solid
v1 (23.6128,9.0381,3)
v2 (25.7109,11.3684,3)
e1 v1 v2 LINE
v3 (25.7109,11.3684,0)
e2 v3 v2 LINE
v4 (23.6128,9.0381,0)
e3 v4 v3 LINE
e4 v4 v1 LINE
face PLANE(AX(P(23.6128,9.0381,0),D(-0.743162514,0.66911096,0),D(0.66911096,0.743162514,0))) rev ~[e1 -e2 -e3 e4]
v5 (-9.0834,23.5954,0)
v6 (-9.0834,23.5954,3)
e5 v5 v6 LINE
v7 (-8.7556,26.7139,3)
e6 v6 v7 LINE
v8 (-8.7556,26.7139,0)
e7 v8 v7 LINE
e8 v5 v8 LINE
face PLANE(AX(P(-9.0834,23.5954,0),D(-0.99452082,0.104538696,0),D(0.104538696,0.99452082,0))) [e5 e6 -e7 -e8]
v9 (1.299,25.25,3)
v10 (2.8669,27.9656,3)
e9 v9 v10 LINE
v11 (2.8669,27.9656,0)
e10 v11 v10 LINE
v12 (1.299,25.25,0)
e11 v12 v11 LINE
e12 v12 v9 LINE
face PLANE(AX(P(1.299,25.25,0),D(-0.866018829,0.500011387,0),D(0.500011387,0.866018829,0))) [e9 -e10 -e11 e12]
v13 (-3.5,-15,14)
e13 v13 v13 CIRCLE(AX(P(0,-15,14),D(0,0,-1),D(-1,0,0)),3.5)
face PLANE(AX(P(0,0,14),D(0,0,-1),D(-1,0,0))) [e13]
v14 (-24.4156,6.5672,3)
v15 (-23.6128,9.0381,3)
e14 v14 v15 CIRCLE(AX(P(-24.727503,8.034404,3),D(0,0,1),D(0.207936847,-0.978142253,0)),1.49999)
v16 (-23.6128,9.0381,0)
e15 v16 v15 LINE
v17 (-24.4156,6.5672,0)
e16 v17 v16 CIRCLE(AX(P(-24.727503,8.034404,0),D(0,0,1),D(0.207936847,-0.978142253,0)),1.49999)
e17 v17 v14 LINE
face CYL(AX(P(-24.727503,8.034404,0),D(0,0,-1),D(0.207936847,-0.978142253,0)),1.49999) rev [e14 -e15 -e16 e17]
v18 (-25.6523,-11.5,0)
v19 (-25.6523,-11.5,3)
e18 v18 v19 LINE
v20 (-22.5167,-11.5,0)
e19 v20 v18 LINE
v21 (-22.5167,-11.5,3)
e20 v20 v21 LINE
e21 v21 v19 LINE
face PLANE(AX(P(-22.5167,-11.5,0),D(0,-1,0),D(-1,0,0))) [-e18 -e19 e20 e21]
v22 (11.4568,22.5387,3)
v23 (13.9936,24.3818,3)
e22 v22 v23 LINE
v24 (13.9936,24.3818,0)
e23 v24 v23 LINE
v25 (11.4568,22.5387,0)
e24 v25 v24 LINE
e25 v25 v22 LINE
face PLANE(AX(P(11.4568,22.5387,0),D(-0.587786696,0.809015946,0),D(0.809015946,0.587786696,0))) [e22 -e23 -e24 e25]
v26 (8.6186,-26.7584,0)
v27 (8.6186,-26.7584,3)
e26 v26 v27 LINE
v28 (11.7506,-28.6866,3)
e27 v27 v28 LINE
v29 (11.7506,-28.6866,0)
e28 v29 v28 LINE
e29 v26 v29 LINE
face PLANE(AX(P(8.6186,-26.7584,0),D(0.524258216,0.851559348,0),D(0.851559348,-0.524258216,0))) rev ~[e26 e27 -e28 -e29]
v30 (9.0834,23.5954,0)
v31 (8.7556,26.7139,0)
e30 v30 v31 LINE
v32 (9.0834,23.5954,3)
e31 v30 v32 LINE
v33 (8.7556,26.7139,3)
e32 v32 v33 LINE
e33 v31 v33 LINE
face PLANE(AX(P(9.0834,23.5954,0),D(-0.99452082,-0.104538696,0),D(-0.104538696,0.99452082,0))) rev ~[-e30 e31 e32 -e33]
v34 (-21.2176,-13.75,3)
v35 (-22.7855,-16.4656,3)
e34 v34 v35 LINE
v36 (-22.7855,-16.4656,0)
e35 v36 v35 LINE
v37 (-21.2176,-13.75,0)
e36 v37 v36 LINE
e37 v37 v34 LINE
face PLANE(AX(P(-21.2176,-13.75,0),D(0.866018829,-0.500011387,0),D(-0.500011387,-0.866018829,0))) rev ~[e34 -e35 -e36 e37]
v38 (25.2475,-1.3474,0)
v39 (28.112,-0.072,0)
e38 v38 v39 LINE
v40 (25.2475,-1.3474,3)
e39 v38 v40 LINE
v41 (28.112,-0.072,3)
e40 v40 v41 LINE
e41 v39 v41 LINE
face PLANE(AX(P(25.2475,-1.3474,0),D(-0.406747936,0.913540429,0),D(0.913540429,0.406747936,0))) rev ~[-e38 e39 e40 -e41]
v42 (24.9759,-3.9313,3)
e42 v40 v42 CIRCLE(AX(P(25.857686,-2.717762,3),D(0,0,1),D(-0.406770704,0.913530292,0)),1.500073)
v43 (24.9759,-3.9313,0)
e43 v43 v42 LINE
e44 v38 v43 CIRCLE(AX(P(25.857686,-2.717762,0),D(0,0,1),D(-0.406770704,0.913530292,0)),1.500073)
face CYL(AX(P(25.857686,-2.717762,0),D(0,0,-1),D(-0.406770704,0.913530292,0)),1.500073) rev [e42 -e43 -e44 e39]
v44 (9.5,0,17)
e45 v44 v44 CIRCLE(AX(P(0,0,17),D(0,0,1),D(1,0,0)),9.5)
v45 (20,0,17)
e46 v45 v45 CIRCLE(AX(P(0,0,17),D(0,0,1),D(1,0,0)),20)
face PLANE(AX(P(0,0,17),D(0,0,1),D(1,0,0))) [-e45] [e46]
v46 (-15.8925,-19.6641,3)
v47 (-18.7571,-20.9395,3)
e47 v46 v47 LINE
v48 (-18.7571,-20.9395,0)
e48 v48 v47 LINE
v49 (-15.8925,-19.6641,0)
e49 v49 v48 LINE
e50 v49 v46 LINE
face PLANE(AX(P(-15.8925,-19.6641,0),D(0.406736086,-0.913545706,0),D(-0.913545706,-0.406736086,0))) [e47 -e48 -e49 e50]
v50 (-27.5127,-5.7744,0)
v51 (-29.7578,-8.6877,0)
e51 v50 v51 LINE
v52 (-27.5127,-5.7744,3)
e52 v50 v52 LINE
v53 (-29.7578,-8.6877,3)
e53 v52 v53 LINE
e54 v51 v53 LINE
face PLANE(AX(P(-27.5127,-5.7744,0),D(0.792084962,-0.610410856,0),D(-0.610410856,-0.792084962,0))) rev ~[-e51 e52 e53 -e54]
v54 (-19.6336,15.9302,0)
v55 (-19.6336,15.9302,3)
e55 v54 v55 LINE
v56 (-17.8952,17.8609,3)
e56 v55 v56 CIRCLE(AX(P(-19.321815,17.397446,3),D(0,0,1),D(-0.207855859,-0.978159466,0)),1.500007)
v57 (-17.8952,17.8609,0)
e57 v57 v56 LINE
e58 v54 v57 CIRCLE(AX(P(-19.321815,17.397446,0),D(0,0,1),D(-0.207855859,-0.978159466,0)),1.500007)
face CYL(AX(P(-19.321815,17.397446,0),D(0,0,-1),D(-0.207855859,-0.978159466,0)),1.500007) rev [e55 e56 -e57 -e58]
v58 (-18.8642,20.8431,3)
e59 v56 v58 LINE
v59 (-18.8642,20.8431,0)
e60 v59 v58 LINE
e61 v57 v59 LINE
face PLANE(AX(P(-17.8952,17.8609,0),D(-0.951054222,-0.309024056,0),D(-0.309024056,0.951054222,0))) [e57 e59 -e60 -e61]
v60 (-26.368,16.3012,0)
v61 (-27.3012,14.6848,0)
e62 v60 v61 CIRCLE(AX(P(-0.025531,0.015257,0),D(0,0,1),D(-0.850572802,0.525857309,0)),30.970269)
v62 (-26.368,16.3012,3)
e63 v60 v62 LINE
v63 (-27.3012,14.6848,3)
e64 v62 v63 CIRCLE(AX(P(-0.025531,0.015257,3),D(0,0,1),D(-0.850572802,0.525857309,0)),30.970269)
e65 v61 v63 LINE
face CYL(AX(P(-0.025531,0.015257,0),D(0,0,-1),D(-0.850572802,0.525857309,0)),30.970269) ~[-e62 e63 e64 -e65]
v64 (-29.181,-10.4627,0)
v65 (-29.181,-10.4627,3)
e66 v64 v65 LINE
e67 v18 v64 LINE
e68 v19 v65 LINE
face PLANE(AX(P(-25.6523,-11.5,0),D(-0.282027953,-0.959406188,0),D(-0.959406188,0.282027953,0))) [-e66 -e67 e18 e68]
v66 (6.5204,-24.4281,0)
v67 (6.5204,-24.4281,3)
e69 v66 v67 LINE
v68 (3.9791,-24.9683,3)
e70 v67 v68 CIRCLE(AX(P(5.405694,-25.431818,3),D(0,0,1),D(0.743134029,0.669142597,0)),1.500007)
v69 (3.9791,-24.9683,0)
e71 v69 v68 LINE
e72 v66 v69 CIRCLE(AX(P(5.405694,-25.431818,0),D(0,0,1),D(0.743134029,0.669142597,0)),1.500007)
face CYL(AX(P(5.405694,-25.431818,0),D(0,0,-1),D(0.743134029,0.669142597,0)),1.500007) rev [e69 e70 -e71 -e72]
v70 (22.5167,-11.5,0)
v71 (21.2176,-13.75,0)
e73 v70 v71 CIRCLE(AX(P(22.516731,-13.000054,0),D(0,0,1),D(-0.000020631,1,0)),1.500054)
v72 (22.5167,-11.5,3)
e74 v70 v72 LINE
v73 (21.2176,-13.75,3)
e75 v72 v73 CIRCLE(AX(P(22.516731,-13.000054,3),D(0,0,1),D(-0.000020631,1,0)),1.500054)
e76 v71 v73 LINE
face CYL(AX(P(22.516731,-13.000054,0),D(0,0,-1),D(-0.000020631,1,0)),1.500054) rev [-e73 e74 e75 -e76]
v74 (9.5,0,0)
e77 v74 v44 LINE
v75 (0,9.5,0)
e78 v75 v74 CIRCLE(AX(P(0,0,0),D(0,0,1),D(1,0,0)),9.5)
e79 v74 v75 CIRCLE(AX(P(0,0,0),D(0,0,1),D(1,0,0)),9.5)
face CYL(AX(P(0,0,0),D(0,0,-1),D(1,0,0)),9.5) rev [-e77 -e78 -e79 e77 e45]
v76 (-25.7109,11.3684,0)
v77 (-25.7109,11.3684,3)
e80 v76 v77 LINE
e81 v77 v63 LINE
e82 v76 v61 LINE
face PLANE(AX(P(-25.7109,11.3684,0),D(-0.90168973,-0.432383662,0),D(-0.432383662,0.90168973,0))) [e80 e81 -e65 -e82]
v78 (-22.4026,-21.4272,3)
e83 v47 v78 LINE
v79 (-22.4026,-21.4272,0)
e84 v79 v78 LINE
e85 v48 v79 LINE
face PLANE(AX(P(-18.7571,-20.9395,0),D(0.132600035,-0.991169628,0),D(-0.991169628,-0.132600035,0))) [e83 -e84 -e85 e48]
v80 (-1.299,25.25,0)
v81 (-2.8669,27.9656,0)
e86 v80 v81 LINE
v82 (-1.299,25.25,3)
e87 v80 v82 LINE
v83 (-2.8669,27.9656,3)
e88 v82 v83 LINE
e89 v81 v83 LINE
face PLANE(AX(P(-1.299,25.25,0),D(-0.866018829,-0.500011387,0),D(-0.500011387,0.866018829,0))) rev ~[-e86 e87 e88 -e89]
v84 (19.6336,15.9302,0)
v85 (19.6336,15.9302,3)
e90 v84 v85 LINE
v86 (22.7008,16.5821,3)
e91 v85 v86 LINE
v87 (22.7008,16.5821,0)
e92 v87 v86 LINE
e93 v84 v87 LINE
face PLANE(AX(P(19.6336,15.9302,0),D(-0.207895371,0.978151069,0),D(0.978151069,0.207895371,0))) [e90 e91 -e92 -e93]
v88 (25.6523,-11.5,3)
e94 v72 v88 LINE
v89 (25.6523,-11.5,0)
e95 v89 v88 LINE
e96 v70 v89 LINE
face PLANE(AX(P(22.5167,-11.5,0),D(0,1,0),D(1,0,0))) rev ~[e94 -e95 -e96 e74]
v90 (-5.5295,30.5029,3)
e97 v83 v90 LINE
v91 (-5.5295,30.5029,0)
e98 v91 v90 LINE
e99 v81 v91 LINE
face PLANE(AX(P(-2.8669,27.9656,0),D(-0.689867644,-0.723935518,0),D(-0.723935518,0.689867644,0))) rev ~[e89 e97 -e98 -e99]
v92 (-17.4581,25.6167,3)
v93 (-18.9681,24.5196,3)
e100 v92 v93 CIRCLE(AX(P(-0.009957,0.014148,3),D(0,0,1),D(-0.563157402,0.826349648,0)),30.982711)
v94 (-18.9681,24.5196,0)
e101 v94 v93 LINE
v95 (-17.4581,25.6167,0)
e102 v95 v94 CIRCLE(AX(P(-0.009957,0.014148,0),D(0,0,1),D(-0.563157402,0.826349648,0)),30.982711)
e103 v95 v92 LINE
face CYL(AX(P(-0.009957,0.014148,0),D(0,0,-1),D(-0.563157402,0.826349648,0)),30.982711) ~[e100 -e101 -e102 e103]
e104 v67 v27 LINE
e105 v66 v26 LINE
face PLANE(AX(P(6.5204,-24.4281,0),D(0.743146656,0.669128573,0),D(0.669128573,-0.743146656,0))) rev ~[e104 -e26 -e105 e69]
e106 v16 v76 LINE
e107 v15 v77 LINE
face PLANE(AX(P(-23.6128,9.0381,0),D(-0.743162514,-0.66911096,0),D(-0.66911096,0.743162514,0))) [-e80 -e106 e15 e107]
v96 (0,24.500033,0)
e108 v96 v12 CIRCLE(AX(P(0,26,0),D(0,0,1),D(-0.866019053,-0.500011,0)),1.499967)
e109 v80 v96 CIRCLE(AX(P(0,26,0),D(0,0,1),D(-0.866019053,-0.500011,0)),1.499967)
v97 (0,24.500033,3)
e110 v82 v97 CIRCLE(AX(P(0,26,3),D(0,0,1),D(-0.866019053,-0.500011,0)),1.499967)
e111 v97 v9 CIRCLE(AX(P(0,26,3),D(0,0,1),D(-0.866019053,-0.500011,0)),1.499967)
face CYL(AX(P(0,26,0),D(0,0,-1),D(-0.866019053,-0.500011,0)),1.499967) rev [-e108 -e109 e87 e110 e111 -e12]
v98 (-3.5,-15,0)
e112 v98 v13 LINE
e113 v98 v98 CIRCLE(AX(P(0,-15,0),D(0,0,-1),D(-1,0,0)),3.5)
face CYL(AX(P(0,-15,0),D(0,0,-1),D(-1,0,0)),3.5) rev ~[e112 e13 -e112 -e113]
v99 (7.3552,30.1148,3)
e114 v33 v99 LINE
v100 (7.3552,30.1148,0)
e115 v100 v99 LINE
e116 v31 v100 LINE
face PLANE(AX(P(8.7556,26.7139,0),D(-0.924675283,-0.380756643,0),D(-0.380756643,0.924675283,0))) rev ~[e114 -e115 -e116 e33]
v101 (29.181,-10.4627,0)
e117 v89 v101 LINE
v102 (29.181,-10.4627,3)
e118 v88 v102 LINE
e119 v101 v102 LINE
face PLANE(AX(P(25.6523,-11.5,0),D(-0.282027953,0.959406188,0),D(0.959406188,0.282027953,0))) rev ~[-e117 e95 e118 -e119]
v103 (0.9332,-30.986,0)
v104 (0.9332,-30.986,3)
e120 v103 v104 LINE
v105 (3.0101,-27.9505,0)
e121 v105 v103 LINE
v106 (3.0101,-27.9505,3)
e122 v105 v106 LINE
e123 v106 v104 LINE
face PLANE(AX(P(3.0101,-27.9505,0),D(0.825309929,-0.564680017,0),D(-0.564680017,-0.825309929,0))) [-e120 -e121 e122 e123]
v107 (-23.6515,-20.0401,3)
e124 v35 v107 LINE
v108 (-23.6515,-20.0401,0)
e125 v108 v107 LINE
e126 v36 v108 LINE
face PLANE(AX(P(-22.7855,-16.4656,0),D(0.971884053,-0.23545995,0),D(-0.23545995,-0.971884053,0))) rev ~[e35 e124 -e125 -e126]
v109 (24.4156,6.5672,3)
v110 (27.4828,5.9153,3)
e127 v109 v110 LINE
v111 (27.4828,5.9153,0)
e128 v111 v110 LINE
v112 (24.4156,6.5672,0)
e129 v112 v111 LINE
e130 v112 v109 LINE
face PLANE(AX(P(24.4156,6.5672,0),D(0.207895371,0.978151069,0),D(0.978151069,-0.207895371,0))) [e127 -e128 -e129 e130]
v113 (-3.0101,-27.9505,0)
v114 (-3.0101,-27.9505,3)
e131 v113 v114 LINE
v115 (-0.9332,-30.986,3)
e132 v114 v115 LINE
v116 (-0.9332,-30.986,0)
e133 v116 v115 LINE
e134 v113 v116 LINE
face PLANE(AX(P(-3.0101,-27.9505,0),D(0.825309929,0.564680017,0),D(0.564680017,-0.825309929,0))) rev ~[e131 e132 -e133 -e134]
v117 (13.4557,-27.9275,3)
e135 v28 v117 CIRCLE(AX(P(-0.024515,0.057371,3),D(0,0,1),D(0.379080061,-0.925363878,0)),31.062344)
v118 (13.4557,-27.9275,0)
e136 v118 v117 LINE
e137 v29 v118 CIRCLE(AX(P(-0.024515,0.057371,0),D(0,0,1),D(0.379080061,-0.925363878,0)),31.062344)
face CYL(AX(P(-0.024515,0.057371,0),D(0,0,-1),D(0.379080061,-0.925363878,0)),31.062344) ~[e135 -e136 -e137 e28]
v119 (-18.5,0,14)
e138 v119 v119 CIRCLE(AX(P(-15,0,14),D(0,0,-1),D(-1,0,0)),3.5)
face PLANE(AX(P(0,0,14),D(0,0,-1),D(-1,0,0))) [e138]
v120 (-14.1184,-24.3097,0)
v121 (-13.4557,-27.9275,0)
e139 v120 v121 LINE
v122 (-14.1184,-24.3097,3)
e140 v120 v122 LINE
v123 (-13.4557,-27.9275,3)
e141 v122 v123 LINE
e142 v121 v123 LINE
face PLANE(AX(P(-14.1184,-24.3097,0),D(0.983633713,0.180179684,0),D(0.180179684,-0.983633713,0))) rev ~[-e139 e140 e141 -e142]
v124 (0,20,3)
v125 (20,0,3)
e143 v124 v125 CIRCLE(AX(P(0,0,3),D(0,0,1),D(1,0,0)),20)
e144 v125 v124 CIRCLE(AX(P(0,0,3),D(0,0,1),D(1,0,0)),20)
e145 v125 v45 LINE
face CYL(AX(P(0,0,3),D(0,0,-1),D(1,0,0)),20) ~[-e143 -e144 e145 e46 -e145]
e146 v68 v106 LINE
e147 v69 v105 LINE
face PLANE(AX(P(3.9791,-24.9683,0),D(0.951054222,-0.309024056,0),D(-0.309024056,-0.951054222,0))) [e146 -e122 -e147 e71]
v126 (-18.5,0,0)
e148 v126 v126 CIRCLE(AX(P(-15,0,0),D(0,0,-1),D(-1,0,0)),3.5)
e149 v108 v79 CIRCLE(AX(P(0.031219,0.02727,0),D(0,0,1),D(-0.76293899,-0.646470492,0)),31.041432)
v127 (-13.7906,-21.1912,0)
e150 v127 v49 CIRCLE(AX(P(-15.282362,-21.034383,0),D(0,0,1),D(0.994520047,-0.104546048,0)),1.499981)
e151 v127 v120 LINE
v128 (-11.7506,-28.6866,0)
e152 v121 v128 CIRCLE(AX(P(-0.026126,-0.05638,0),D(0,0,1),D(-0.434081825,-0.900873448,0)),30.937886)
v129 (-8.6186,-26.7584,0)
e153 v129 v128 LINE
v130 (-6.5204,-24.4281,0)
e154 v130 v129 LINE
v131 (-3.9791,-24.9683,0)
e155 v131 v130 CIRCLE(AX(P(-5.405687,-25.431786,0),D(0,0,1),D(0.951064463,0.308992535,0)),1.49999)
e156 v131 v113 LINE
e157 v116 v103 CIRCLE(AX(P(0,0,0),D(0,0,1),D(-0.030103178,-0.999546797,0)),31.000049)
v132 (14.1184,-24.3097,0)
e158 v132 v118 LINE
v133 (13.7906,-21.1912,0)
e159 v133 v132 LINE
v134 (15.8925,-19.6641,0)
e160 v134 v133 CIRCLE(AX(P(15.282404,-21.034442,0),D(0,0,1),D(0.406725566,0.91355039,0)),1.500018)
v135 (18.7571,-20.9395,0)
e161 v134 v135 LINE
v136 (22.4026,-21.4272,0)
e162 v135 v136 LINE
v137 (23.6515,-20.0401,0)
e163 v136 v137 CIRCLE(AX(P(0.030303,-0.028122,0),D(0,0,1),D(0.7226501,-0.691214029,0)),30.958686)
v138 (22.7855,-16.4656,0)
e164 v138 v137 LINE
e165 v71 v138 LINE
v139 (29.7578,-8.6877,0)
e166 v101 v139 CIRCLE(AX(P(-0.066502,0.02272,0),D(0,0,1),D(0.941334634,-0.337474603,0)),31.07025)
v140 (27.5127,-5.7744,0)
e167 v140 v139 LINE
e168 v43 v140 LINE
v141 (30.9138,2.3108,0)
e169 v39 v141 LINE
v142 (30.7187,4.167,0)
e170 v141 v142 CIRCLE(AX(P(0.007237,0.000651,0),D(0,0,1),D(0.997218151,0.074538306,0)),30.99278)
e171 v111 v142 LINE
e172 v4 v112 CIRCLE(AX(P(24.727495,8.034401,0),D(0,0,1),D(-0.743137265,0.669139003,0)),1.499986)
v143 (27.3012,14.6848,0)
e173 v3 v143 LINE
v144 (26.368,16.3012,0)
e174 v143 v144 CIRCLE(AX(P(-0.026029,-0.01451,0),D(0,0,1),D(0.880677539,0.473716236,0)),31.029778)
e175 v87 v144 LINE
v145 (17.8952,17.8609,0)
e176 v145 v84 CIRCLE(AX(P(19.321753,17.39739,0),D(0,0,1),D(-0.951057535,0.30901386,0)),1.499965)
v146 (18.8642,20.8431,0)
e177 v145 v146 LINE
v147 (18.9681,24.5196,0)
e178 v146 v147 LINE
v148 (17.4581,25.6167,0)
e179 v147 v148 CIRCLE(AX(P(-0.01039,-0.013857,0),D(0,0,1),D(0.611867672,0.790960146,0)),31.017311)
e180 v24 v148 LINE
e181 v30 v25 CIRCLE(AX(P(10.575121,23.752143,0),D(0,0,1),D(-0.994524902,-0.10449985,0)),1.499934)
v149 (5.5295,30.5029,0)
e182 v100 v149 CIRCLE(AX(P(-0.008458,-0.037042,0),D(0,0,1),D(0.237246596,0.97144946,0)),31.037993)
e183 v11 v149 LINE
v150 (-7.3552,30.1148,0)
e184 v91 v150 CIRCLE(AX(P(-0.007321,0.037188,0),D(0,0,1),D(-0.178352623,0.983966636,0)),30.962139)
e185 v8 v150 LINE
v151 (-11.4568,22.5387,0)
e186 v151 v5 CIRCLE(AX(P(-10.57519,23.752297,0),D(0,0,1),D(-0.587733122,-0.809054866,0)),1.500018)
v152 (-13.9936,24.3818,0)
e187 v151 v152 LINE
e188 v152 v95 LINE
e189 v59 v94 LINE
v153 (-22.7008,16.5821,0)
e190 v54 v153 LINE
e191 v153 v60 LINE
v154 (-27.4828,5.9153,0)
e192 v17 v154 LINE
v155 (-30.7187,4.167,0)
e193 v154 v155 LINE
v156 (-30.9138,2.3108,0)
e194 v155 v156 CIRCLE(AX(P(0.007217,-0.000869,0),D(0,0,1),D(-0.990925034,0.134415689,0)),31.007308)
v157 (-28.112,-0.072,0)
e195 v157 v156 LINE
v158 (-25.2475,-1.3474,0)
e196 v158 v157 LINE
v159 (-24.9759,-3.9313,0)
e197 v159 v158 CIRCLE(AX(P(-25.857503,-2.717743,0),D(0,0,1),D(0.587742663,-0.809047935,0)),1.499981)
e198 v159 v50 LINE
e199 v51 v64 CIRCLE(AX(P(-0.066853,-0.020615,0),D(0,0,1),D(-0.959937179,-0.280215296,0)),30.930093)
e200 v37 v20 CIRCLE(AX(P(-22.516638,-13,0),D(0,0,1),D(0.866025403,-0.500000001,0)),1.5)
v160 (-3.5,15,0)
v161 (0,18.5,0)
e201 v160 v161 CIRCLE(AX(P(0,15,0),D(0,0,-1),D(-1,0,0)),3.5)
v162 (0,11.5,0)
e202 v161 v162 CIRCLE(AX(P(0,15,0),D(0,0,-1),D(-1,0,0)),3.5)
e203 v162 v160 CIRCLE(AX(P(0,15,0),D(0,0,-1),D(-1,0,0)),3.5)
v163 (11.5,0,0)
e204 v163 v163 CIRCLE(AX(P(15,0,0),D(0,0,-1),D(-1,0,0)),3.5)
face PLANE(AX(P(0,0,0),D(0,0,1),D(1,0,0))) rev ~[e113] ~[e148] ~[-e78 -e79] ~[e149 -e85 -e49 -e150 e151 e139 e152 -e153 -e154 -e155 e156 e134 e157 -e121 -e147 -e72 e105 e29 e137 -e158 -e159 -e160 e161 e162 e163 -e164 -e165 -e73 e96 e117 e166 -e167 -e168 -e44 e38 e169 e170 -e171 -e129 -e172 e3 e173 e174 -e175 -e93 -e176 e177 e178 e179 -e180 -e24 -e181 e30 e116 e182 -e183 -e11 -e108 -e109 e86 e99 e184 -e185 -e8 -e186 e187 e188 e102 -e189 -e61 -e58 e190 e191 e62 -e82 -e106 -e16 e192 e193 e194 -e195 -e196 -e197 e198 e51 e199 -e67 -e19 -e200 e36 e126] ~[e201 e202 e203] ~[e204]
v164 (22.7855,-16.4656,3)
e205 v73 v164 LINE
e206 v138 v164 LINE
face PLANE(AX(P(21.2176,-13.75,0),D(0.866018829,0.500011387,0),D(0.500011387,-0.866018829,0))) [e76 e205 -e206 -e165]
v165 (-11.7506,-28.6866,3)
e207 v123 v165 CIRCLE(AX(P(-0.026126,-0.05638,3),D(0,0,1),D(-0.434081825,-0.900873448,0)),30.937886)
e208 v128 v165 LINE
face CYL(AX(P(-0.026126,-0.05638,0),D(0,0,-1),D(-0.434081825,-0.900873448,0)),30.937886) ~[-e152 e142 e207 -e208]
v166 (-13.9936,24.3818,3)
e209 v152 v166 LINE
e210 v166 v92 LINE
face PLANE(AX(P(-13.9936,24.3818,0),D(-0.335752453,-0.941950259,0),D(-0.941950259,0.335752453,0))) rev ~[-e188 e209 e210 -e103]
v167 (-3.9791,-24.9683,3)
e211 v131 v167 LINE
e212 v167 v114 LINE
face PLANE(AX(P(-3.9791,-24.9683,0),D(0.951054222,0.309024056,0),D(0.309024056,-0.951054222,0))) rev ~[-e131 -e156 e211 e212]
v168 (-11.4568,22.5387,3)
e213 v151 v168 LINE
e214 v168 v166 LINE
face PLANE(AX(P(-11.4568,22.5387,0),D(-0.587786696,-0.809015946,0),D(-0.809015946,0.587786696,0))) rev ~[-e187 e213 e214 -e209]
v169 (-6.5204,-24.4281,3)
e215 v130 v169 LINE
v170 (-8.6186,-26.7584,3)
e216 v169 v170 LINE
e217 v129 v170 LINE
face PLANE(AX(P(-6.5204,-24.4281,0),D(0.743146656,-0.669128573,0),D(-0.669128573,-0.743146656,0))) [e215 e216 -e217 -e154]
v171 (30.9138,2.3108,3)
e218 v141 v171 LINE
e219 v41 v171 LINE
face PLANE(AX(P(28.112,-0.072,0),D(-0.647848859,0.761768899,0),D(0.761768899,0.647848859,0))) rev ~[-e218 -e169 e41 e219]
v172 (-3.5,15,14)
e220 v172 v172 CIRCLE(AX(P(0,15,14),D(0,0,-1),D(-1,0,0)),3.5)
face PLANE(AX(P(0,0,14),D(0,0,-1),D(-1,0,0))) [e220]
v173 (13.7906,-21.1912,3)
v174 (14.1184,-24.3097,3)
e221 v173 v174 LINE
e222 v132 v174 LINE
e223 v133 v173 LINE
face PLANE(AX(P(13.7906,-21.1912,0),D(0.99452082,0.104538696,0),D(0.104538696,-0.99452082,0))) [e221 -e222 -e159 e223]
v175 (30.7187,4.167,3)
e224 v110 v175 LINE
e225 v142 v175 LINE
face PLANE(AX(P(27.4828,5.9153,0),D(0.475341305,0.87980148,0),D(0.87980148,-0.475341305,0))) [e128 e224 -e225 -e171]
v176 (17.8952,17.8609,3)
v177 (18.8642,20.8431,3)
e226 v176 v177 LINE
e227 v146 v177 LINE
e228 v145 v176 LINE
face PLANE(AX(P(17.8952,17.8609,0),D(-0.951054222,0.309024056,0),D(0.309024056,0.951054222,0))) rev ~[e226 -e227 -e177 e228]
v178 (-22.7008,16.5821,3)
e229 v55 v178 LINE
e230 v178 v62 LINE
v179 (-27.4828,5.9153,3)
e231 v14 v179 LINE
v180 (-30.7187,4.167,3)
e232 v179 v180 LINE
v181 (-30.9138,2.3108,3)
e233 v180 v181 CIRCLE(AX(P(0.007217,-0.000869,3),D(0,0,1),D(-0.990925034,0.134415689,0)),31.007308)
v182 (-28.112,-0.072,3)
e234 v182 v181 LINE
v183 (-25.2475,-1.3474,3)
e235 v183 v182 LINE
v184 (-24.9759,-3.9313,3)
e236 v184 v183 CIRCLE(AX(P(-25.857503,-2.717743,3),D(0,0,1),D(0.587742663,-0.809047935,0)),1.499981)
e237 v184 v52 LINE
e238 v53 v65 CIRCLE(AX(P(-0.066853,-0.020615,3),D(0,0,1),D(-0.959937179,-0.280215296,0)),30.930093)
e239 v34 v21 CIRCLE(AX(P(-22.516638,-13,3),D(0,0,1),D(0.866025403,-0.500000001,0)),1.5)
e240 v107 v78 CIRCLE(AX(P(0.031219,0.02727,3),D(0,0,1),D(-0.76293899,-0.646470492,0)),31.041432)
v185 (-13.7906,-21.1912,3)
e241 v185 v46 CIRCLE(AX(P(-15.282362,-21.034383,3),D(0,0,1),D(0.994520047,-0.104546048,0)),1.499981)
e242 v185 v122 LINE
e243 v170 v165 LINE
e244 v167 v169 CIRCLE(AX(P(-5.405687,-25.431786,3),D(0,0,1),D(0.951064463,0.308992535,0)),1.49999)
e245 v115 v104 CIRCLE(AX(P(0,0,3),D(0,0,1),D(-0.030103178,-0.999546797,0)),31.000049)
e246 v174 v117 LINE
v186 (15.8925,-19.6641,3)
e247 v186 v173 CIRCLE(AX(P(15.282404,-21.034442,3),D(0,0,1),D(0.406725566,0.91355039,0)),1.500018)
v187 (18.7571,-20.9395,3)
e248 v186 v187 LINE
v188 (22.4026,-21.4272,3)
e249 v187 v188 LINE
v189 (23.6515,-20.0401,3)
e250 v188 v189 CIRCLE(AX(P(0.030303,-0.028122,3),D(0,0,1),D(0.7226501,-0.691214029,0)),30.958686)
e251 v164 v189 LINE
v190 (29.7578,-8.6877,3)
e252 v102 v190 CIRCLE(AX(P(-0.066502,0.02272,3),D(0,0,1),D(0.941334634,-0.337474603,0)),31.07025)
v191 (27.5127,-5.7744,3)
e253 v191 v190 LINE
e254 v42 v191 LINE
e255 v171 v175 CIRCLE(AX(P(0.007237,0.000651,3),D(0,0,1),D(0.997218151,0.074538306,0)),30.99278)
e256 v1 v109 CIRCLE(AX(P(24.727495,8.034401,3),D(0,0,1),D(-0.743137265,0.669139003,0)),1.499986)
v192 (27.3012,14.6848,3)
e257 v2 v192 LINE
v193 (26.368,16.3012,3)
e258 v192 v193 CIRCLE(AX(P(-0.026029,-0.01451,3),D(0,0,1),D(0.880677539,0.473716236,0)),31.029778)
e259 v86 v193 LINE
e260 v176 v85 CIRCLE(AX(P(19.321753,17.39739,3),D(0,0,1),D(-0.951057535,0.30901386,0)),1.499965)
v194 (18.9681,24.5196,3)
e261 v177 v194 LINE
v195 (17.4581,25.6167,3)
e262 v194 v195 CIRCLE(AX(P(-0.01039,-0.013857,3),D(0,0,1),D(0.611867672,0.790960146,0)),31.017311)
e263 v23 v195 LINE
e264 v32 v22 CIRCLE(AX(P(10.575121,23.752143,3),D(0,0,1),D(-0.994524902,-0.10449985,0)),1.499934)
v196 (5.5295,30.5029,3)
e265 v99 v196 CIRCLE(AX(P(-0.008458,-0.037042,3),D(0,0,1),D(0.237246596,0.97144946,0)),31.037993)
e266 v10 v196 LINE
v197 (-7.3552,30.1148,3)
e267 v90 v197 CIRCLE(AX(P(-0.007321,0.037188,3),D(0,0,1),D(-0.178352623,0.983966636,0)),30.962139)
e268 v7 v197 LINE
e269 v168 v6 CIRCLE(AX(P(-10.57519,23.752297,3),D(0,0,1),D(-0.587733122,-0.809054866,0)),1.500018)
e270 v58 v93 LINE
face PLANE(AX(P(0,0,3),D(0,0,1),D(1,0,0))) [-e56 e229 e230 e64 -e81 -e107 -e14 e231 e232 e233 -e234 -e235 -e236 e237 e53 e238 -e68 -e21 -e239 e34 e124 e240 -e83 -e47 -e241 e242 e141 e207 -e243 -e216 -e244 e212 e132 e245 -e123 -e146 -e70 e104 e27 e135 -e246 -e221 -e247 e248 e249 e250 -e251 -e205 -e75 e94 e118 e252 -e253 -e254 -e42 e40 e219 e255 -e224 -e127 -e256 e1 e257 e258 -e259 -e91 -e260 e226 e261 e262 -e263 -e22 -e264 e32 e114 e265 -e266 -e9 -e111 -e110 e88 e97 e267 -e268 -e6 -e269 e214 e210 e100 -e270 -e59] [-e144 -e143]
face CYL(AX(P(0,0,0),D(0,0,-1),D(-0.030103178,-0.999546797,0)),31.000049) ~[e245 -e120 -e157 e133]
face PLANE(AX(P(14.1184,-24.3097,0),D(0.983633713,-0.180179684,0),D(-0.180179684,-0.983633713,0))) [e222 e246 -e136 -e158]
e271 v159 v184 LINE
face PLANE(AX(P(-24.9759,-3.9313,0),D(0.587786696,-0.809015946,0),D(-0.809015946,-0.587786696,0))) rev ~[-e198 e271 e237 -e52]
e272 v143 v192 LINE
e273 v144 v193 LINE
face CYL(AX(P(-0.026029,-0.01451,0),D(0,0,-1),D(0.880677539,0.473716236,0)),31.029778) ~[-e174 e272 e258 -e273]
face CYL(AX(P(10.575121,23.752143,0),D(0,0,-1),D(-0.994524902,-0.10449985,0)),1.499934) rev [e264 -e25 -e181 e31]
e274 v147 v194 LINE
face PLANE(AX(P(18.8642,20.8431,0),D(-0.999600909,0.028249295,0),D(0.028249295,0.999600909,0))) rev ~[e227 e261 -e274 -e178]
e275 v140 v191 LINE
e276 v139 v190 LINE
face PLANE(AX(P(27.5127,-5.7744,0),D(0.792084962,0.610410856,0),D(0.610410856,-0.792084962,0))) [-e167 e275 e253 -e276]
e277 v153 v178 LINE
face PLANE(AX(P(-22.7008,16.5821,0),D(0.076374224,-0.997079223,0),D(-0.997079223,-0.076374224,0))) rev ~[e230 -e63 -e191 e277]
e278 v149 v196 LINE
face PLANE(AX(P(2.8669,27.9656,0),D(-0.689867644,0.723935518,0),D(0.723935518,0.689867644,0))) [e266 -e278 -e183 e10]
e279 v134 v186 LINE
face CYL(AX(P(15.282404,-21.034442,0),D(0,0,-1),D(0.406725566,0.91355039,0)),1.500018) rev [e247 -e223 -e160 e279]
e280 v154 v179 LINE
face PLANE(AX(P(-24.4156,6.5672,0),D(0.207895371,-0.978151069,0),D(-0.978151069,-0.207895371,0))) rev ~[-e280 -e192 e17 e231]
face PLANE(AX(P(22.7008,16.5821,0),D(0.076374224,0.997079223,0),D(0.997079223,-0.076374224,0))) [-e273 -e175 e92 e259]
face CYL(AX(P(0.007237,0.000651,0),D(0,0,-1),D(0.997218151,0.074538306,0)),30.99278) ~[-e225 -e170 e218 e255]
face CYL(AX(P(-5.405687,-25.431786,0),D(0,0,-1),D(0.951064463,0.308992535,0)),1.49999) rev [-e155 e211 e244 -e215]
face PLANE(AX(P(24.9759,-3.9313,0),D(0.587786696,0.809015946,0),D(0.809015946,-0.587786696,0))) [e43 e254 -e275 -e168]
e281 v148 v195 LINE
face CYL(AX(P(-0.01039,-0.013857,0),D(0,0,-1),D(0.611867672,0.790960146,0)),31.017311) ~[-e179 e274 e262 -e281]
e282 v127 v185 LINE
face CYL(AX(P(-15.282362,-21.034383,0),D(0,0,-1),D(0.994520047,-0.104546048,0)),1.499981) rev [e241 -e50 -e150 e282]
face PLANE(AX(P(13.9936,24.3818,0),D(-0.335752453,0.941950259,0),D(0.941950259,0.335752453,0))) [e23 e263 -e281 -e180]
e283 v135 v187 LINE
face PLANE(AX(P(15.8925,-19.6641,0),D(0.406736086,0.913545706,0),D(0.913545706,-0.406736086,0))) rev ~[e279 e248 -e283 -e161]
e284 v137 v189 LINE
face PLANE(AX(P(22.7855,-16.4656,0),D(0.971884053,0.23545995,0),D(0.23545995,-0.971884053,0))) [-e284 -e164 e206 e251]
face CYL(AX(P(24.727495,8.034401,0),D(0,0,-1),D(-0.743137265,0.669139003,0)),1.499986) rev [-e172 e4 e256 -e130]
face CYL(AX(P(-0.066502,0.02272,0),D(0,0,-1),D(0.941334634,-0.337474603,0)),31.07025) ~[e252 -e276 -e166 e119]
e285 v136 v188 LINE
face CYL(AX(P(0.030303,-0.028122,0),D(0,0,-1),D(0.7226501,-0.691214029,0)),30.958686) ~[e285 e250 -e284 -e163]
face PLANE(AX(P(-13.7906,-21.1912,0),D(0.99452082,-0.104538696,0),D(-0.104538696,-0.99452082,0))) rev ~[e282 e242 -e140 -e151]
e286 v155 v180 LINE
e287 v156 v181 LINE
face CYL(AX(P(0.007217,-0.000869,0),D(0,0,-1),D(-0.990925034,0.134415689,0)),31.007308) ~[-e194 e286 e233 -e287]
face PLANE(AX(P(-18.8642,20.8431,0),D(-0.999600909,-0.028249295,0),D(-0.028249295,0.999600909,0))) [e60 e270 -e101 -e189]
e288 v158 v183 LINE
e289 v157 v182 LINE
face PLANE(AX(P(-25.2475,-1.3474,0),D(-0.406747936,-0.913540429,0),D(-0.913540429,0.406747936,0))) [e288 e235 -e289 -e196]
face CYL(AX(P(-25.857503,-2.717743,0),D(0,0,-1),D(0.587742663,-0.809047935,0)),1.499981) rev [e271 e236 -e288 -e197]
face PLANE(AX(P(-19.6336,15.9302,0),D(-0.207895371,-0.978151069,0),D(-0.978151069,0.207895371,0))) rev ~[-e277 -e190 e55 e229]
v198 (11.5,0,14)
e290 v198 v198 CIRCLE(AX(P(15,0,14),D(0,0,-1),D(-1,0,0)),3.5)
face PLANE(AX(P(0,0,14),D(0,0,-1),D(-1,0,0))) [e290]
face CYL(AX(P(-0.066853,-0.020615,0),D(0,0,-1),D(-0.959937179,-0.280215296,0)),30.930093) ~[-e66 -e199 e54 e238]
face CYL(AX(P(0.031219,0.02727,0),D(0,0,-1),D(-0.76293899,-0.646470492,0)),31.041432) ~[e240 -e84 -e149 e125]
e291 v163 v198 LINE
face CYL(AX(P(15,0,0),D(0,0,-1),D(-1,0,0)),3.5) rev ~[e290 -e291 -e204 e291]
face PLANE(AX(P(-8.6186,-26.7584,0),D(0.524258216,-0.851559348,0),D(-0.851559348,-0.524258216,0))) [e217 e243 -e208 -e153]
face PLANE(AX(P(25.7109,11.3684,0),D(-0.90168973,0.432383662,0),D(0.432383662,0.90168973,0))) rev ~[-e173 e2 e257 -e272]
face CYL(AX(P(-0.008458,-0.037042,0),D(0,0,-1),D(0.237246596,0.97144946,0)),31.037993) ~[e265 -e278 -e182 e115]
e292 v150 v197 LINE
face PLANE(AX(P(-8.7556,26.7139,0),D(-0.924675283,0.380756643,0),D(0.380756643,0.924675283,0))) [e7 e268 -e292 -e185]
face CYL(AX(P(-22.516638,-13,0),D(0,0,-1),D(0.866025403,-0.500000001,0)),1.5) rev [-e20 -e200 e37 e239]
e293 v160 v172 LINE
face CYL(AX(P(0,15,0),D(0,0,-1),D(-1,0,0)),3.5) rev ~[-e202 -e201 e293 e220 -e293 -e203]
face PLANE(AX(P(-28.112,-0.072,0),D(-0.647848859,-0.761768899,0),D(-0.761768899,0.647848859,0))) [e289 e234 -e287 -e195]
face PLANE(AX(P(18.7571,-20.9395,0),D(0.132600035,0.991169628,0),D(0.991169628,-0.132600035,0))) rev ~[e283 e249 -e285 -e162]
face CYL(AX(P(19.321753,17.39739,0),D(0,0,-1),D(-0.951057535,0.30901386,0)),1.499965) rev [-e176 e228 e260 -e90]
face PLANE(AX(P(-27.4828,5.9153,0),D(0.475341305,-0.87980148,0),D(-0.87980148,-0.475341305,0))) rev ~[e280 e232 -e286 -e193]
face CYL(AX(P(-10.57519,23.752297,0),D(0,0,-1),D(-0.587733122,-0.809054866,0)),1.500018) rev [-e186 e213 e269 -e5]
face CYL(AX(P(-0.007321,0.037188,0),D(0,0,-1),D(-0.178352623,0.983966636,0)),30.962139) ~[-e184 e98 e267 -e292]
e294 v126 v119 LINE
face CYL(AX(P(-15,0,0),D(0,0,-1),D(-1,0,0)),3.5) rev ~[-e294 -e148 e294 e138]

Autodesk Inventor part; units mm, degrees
ref_plane "YZ Plane" through (0, 0, 0) normal (1, 0, 0) x (0, 1, 0)
ref_plane "XZ Plane" through (0, 0, 0) normal (0, 1, 0) x (-1, 0, 0)
ref_plane "XY Plane" through (0, 0, 0) normal (0, 0, 1) x (1, 0, 0)
sketch "Sketch1" plane through (0, 0, 0) normal (0, 0, 1) x (1, 0, 0)
  circle A0 centre (0, 0) radius 9.5
  line L0 (-1.299, 25.25) -> (-2.8669, 27.9656)
  line L1 (1.299, 25.25) -> (2.8669, 27.9656)
  line L2 (0, 35.1809) -> (0, 0)
  arc A1 (-1.299, 25.25) -> (1.299, 25.25) centre (0, 26) ccw
  line L3 (-2.8669, 27.9656) -> (-5.5295, 30.5029)
  line L4 (2.8669, 27.9656) -> (5.5295, 30.5029)
  line L5 (-13.9936, 24.3818) -> (-17.4581, 25.6167)
  line L6 (-11.4568, 22.5387) -> (-13.9936, 24.3818)
  arc A2 (-11.4568, 22.5387) -> (-9.0834, 23.5954) centre (-10.5752, 23.7522) ccw
  line L7 (-9.0834, 23.5954) -> (-8.7556, 26.7139)
  line L8 (-8.7556, 26.7139) -> (-7.3552, 30.1148)
  line L9 (-22.7008, 16.5821) -> (-26.368, 16.3012)
  line L10 (-19.6336, 15.9302) -> (-22.7008, 16.5821)
  arc A3 (-19.6336, 15.9302) -> (-17.8952, 17.8609) centre (-19.3218, 17.3974) ccw
  line L11 (-17.8952, 17.8609) -> (-18.8642, 20.8431)
  line L12 (-18.8642, 20.8431) -> (-18.9681, 24.5196)
  line L13 (-27.4828, 5.9153) -> (-30.7187, 4.167)
  line L14 (-24.4156, 6.5672) -> (-27.4828, 5.9153)
  arc A4 (-24.4156, 6.5672) -> (-23.6128, 9.0381) centre (-24.7275, 8.0344) ccw
  line L15 (-23.6128, 9.0381) -> (-25.7109, 11.3684)
  line L16 (-25.7109, 11.3684) -> (-27.3012, 14.6848)
  line L17 (-27.5127, -5.7744) -> (-29.7578, -8.6877)
  line L18 (-24.9759, -3.9313) -> (-27.5127, -5.7744)
  arc A5 (-24.9759, -3.9313) -> (-25.2475, -1.3474) centre (-25.8576, -2.7177) ccw
  line L19 (-25.2475, -1.3474) -> (-28.112, -0.072)
  line L20 (-28.112, -0.072) -> (-30.9138, 2.3108)
  line L21 (-22.7855, -16.4656) -> (-23.6515, -20.0401)
  line L22 (-21.2176, -13.75) -> (-22.7855, -16.4656)
  arc A6 (-21.2176, -13.75) -> (-22.5167, -11.5) centre (-22.5167, -13) ccw
  line L23 (-22.5167, -11.5) -> (-25.6523, -11.5)
  line L24 (-25.6523, -11.5) -> (-29.181, -10.4627)
  line L25 (-14.1184, -24.3097) -> (-13.4557, -27.9275)
  line L26 (-13.7906, -21.1912) -> (-14.1184, -24.3097)
  arc A7 (-13.7906, -21.1912) -> (-15.8925, -19.6641) centre (-15.2824, -21.0344) ccw
  line L27 (-15.8925, -19.6641) -> (-18.7571, -20.9395)
  line L28 (-18.7571, -20.9395) -> (-22.4026, -21.4272)
  line L29 (-3.0101, -27.9505) -> (-0.9332, -30.986)
  line L30 (-3.9791, -24.9683) -> (-3.0101, -27.9505)
  arc A8 (-3.9791, -24.9683) -> (-6.5204, -24.4281) centre (-5.4057, -25.4318) ccw
  line L31 (-6.5204, -24.4281) -> (-8.6186, -26.7584)
  line L32 (-8.6186, -26.7584) -> (-11.7506, -28.6866)
  line L33 (8.6186, -26.7584) -> (11.7506, -28.6866)
  line L34 (6.5204, -24.4281) -> (8.6186, -26.7584)
  arc A9 (6.5204, -24.4281) -> (3.9791, -24.9683) centre (5.4057, -25.4318) ccw
  line L35 (3.9791, -24.9683) -> (3.0101, -27.9505)
  line L36 (3.0101, -27.9505) -> (0.9332, -30.986)
  line L37 (18.7571, -20.9395) -> (22.4026, -21.4272)
  line L38 (15.8925, -19.6641) -> (18.7571, -20.9395)
  arc A10 (15.8925, -19.6641) -> (13.7906, -21.1912) centre (15.2824, -21.0344) ccw
  line L39 (13.7906, -21.1912) -> (14.1184, -24.3097)
  line L40 (14.1184, -24.3097) -> (13.4557, -27.9275)
  line L41 (25.6523, -11.5) -> (29.181, -10.4627)
  line L42 (22.5167, -11.5) -> (25.6523, -11.5)
  arc A11 (22.5167, -11.5) -> (21.2176, -13.75) centre (22.5167, -13) ccw
  line L43 (21.2176, -13.75) -> (22.7855, -16.4656)
  line L44 (22.7855, -16.4656) -> (23.6515, -20.0401)
  line L45 (28.112, -0.072) -> (30.9138, 2.3108)
  line L46 (25.2475, -1.3474) -> (28.112, -0.072)
  arc A12 (25.2475, -1.3474) -> (24.9759, -3.9313) centre (25.8576, -2.7177) ccw
  line L47 (24.9759, -3.9313) -> (27.5127, -5.7744)
  line L48 (27.5127, -5.7744) -> (29.7578, -8.6877)
  line L49 (25.7109, 11.3684) -> (27.3012, 14.6848)
  line L50 (23.6128, 9.0381) -> (25.7109, 11.3684)
  arc A13 (23.6128, 9.0381) -> (24.4156, 6.5672) centre (24.7275, 8.0344) ccw
  line L51 (24.4156, 6.5672) -> (27.4828, 5.9153)
  line L52 (27.4828, 5.9153) -> (30.7187, 4.167)
  line L53 (18.8642, 20.8431) -> (18.9681, 24.5196)
  line L54 (17.8952, 17.8609) -> (18.8642, 20.8431)
  arc A14 (17.8952, 17.8609) -> (19.6336, 15.9302) centre (19.3218, 17.3974) ccw
  line L55 (19.6336, 15.9302) -> (22.7008, 16.5821)
  line L56 (22.7008, 16.5821) -> (26.368, 16.3012)
  line L57 (8.7556, 26.7139) -> (7.3552, 30.1148)
  line L58 (9.0834, 23.5954) -> (8.7556, 26.7139)
  arc A15 (9.0834, 23.5954) -> (11.4568, 22.5387) centre (10.5752, 23.7522) ccw
  line L59 (11.4568, 22.5387) -> (13.9936, 24.3818)
  line L60 (13.9936, 24.3818) -> (17.4581, 25.6167)
  arc A16 (-5.5295, 30.5029) -> (-7.3552, 30.1148) centre (0, 0) ccw
  arc A17 (-17.4581, 25.6167) -> (-18.9681, 24.5196) centre (0, 0) ccw
  arc A18 (-26.368, 16.3012) -> (-27.3012, 14.6848) centre (0, 0) ccw
  arc A19 (-30.7187, 4.167) -> (-30.9138, 2.3108) centre (0, 0) ccw
  arc A20 (-29.7578, -8.6877) -> (-29.181, -10.4627) centre (0, 0) ccw
  arc A21 (-23.6515, -20.0401) -> (-22.4026, -21.4272) centre (0, 0) ccw
  arc A22 (-13.4557, -27.9275) -> (-11.7506, -28.6866) centre (0, 0) ccw
  arc A23 (-0.9332, -30.986) -> (0.9332, -30.986) centre (0, 0) ccw
  arc A24 (11.7506, -28.6866) -> (13.4557, -27.9275) centre (0, 0) ccw
  arc A25 (22.4026, -21.4272) -> (23.6515, -20.0401) centre (0, 0) ccw
  arc A26 (29.181, -10.4627) -> (29.7578, -8.6877) centre (0, 0) ccw
  arc A27 (30.9138, 2.3108) -> (30.7187, 4.167) centre (0, 0) ccw
  arc A28 (27.3012, 14.6848) -> (26.368, 16.3012) centre (0, 0) ccw
  arc A29 (18.9681, 24.5196) -> (17.4581, 25.6167) centre (0, 0) ccw
  arc A30 (7.3552, 30.1148) -> (5.5295, 30.5029) centre (0, 0) ccw
  dimension "d0" = 19
  dimension "d3" = 26
  dimension "d4" = 30
  dimension "d5" = 30
  dimension "d8" = 360
extrude "Extrusion1" add sketch "Sketch1" along normal blind 3
sketch "Sketch2" plane through (0, 0, 3) normal (0, 0, 1) x (1, 0, 0)
  circle A0 centre (0, 0) radius 20
  circle A1 centre (0, 0) radius 9.5
  dimension "d12" = 40
extrude "Extrusion2" add sketch "Sketch2" along normal blind 14
sketch "Sketch3" plane through (0, 0, 0) normal (0, 0, -1) x (-1, 0, 0)
  circle A0 centre (0, 15) radius 3.5
  circle A1 centre (-15, 0) radius 3.5
  circle A2 centre (0, -15) radius 3.5
  circle A3 centre (15, 0) radius 3.5
  point P0 (0, 0)
  dimension "d15" = 7
  dimension "d16" = 15
  dimension "d19" = 360
extrude "Extrusion3" cut sketch "Sketch3" against normal blind 14
properties part number "engrenagem"
